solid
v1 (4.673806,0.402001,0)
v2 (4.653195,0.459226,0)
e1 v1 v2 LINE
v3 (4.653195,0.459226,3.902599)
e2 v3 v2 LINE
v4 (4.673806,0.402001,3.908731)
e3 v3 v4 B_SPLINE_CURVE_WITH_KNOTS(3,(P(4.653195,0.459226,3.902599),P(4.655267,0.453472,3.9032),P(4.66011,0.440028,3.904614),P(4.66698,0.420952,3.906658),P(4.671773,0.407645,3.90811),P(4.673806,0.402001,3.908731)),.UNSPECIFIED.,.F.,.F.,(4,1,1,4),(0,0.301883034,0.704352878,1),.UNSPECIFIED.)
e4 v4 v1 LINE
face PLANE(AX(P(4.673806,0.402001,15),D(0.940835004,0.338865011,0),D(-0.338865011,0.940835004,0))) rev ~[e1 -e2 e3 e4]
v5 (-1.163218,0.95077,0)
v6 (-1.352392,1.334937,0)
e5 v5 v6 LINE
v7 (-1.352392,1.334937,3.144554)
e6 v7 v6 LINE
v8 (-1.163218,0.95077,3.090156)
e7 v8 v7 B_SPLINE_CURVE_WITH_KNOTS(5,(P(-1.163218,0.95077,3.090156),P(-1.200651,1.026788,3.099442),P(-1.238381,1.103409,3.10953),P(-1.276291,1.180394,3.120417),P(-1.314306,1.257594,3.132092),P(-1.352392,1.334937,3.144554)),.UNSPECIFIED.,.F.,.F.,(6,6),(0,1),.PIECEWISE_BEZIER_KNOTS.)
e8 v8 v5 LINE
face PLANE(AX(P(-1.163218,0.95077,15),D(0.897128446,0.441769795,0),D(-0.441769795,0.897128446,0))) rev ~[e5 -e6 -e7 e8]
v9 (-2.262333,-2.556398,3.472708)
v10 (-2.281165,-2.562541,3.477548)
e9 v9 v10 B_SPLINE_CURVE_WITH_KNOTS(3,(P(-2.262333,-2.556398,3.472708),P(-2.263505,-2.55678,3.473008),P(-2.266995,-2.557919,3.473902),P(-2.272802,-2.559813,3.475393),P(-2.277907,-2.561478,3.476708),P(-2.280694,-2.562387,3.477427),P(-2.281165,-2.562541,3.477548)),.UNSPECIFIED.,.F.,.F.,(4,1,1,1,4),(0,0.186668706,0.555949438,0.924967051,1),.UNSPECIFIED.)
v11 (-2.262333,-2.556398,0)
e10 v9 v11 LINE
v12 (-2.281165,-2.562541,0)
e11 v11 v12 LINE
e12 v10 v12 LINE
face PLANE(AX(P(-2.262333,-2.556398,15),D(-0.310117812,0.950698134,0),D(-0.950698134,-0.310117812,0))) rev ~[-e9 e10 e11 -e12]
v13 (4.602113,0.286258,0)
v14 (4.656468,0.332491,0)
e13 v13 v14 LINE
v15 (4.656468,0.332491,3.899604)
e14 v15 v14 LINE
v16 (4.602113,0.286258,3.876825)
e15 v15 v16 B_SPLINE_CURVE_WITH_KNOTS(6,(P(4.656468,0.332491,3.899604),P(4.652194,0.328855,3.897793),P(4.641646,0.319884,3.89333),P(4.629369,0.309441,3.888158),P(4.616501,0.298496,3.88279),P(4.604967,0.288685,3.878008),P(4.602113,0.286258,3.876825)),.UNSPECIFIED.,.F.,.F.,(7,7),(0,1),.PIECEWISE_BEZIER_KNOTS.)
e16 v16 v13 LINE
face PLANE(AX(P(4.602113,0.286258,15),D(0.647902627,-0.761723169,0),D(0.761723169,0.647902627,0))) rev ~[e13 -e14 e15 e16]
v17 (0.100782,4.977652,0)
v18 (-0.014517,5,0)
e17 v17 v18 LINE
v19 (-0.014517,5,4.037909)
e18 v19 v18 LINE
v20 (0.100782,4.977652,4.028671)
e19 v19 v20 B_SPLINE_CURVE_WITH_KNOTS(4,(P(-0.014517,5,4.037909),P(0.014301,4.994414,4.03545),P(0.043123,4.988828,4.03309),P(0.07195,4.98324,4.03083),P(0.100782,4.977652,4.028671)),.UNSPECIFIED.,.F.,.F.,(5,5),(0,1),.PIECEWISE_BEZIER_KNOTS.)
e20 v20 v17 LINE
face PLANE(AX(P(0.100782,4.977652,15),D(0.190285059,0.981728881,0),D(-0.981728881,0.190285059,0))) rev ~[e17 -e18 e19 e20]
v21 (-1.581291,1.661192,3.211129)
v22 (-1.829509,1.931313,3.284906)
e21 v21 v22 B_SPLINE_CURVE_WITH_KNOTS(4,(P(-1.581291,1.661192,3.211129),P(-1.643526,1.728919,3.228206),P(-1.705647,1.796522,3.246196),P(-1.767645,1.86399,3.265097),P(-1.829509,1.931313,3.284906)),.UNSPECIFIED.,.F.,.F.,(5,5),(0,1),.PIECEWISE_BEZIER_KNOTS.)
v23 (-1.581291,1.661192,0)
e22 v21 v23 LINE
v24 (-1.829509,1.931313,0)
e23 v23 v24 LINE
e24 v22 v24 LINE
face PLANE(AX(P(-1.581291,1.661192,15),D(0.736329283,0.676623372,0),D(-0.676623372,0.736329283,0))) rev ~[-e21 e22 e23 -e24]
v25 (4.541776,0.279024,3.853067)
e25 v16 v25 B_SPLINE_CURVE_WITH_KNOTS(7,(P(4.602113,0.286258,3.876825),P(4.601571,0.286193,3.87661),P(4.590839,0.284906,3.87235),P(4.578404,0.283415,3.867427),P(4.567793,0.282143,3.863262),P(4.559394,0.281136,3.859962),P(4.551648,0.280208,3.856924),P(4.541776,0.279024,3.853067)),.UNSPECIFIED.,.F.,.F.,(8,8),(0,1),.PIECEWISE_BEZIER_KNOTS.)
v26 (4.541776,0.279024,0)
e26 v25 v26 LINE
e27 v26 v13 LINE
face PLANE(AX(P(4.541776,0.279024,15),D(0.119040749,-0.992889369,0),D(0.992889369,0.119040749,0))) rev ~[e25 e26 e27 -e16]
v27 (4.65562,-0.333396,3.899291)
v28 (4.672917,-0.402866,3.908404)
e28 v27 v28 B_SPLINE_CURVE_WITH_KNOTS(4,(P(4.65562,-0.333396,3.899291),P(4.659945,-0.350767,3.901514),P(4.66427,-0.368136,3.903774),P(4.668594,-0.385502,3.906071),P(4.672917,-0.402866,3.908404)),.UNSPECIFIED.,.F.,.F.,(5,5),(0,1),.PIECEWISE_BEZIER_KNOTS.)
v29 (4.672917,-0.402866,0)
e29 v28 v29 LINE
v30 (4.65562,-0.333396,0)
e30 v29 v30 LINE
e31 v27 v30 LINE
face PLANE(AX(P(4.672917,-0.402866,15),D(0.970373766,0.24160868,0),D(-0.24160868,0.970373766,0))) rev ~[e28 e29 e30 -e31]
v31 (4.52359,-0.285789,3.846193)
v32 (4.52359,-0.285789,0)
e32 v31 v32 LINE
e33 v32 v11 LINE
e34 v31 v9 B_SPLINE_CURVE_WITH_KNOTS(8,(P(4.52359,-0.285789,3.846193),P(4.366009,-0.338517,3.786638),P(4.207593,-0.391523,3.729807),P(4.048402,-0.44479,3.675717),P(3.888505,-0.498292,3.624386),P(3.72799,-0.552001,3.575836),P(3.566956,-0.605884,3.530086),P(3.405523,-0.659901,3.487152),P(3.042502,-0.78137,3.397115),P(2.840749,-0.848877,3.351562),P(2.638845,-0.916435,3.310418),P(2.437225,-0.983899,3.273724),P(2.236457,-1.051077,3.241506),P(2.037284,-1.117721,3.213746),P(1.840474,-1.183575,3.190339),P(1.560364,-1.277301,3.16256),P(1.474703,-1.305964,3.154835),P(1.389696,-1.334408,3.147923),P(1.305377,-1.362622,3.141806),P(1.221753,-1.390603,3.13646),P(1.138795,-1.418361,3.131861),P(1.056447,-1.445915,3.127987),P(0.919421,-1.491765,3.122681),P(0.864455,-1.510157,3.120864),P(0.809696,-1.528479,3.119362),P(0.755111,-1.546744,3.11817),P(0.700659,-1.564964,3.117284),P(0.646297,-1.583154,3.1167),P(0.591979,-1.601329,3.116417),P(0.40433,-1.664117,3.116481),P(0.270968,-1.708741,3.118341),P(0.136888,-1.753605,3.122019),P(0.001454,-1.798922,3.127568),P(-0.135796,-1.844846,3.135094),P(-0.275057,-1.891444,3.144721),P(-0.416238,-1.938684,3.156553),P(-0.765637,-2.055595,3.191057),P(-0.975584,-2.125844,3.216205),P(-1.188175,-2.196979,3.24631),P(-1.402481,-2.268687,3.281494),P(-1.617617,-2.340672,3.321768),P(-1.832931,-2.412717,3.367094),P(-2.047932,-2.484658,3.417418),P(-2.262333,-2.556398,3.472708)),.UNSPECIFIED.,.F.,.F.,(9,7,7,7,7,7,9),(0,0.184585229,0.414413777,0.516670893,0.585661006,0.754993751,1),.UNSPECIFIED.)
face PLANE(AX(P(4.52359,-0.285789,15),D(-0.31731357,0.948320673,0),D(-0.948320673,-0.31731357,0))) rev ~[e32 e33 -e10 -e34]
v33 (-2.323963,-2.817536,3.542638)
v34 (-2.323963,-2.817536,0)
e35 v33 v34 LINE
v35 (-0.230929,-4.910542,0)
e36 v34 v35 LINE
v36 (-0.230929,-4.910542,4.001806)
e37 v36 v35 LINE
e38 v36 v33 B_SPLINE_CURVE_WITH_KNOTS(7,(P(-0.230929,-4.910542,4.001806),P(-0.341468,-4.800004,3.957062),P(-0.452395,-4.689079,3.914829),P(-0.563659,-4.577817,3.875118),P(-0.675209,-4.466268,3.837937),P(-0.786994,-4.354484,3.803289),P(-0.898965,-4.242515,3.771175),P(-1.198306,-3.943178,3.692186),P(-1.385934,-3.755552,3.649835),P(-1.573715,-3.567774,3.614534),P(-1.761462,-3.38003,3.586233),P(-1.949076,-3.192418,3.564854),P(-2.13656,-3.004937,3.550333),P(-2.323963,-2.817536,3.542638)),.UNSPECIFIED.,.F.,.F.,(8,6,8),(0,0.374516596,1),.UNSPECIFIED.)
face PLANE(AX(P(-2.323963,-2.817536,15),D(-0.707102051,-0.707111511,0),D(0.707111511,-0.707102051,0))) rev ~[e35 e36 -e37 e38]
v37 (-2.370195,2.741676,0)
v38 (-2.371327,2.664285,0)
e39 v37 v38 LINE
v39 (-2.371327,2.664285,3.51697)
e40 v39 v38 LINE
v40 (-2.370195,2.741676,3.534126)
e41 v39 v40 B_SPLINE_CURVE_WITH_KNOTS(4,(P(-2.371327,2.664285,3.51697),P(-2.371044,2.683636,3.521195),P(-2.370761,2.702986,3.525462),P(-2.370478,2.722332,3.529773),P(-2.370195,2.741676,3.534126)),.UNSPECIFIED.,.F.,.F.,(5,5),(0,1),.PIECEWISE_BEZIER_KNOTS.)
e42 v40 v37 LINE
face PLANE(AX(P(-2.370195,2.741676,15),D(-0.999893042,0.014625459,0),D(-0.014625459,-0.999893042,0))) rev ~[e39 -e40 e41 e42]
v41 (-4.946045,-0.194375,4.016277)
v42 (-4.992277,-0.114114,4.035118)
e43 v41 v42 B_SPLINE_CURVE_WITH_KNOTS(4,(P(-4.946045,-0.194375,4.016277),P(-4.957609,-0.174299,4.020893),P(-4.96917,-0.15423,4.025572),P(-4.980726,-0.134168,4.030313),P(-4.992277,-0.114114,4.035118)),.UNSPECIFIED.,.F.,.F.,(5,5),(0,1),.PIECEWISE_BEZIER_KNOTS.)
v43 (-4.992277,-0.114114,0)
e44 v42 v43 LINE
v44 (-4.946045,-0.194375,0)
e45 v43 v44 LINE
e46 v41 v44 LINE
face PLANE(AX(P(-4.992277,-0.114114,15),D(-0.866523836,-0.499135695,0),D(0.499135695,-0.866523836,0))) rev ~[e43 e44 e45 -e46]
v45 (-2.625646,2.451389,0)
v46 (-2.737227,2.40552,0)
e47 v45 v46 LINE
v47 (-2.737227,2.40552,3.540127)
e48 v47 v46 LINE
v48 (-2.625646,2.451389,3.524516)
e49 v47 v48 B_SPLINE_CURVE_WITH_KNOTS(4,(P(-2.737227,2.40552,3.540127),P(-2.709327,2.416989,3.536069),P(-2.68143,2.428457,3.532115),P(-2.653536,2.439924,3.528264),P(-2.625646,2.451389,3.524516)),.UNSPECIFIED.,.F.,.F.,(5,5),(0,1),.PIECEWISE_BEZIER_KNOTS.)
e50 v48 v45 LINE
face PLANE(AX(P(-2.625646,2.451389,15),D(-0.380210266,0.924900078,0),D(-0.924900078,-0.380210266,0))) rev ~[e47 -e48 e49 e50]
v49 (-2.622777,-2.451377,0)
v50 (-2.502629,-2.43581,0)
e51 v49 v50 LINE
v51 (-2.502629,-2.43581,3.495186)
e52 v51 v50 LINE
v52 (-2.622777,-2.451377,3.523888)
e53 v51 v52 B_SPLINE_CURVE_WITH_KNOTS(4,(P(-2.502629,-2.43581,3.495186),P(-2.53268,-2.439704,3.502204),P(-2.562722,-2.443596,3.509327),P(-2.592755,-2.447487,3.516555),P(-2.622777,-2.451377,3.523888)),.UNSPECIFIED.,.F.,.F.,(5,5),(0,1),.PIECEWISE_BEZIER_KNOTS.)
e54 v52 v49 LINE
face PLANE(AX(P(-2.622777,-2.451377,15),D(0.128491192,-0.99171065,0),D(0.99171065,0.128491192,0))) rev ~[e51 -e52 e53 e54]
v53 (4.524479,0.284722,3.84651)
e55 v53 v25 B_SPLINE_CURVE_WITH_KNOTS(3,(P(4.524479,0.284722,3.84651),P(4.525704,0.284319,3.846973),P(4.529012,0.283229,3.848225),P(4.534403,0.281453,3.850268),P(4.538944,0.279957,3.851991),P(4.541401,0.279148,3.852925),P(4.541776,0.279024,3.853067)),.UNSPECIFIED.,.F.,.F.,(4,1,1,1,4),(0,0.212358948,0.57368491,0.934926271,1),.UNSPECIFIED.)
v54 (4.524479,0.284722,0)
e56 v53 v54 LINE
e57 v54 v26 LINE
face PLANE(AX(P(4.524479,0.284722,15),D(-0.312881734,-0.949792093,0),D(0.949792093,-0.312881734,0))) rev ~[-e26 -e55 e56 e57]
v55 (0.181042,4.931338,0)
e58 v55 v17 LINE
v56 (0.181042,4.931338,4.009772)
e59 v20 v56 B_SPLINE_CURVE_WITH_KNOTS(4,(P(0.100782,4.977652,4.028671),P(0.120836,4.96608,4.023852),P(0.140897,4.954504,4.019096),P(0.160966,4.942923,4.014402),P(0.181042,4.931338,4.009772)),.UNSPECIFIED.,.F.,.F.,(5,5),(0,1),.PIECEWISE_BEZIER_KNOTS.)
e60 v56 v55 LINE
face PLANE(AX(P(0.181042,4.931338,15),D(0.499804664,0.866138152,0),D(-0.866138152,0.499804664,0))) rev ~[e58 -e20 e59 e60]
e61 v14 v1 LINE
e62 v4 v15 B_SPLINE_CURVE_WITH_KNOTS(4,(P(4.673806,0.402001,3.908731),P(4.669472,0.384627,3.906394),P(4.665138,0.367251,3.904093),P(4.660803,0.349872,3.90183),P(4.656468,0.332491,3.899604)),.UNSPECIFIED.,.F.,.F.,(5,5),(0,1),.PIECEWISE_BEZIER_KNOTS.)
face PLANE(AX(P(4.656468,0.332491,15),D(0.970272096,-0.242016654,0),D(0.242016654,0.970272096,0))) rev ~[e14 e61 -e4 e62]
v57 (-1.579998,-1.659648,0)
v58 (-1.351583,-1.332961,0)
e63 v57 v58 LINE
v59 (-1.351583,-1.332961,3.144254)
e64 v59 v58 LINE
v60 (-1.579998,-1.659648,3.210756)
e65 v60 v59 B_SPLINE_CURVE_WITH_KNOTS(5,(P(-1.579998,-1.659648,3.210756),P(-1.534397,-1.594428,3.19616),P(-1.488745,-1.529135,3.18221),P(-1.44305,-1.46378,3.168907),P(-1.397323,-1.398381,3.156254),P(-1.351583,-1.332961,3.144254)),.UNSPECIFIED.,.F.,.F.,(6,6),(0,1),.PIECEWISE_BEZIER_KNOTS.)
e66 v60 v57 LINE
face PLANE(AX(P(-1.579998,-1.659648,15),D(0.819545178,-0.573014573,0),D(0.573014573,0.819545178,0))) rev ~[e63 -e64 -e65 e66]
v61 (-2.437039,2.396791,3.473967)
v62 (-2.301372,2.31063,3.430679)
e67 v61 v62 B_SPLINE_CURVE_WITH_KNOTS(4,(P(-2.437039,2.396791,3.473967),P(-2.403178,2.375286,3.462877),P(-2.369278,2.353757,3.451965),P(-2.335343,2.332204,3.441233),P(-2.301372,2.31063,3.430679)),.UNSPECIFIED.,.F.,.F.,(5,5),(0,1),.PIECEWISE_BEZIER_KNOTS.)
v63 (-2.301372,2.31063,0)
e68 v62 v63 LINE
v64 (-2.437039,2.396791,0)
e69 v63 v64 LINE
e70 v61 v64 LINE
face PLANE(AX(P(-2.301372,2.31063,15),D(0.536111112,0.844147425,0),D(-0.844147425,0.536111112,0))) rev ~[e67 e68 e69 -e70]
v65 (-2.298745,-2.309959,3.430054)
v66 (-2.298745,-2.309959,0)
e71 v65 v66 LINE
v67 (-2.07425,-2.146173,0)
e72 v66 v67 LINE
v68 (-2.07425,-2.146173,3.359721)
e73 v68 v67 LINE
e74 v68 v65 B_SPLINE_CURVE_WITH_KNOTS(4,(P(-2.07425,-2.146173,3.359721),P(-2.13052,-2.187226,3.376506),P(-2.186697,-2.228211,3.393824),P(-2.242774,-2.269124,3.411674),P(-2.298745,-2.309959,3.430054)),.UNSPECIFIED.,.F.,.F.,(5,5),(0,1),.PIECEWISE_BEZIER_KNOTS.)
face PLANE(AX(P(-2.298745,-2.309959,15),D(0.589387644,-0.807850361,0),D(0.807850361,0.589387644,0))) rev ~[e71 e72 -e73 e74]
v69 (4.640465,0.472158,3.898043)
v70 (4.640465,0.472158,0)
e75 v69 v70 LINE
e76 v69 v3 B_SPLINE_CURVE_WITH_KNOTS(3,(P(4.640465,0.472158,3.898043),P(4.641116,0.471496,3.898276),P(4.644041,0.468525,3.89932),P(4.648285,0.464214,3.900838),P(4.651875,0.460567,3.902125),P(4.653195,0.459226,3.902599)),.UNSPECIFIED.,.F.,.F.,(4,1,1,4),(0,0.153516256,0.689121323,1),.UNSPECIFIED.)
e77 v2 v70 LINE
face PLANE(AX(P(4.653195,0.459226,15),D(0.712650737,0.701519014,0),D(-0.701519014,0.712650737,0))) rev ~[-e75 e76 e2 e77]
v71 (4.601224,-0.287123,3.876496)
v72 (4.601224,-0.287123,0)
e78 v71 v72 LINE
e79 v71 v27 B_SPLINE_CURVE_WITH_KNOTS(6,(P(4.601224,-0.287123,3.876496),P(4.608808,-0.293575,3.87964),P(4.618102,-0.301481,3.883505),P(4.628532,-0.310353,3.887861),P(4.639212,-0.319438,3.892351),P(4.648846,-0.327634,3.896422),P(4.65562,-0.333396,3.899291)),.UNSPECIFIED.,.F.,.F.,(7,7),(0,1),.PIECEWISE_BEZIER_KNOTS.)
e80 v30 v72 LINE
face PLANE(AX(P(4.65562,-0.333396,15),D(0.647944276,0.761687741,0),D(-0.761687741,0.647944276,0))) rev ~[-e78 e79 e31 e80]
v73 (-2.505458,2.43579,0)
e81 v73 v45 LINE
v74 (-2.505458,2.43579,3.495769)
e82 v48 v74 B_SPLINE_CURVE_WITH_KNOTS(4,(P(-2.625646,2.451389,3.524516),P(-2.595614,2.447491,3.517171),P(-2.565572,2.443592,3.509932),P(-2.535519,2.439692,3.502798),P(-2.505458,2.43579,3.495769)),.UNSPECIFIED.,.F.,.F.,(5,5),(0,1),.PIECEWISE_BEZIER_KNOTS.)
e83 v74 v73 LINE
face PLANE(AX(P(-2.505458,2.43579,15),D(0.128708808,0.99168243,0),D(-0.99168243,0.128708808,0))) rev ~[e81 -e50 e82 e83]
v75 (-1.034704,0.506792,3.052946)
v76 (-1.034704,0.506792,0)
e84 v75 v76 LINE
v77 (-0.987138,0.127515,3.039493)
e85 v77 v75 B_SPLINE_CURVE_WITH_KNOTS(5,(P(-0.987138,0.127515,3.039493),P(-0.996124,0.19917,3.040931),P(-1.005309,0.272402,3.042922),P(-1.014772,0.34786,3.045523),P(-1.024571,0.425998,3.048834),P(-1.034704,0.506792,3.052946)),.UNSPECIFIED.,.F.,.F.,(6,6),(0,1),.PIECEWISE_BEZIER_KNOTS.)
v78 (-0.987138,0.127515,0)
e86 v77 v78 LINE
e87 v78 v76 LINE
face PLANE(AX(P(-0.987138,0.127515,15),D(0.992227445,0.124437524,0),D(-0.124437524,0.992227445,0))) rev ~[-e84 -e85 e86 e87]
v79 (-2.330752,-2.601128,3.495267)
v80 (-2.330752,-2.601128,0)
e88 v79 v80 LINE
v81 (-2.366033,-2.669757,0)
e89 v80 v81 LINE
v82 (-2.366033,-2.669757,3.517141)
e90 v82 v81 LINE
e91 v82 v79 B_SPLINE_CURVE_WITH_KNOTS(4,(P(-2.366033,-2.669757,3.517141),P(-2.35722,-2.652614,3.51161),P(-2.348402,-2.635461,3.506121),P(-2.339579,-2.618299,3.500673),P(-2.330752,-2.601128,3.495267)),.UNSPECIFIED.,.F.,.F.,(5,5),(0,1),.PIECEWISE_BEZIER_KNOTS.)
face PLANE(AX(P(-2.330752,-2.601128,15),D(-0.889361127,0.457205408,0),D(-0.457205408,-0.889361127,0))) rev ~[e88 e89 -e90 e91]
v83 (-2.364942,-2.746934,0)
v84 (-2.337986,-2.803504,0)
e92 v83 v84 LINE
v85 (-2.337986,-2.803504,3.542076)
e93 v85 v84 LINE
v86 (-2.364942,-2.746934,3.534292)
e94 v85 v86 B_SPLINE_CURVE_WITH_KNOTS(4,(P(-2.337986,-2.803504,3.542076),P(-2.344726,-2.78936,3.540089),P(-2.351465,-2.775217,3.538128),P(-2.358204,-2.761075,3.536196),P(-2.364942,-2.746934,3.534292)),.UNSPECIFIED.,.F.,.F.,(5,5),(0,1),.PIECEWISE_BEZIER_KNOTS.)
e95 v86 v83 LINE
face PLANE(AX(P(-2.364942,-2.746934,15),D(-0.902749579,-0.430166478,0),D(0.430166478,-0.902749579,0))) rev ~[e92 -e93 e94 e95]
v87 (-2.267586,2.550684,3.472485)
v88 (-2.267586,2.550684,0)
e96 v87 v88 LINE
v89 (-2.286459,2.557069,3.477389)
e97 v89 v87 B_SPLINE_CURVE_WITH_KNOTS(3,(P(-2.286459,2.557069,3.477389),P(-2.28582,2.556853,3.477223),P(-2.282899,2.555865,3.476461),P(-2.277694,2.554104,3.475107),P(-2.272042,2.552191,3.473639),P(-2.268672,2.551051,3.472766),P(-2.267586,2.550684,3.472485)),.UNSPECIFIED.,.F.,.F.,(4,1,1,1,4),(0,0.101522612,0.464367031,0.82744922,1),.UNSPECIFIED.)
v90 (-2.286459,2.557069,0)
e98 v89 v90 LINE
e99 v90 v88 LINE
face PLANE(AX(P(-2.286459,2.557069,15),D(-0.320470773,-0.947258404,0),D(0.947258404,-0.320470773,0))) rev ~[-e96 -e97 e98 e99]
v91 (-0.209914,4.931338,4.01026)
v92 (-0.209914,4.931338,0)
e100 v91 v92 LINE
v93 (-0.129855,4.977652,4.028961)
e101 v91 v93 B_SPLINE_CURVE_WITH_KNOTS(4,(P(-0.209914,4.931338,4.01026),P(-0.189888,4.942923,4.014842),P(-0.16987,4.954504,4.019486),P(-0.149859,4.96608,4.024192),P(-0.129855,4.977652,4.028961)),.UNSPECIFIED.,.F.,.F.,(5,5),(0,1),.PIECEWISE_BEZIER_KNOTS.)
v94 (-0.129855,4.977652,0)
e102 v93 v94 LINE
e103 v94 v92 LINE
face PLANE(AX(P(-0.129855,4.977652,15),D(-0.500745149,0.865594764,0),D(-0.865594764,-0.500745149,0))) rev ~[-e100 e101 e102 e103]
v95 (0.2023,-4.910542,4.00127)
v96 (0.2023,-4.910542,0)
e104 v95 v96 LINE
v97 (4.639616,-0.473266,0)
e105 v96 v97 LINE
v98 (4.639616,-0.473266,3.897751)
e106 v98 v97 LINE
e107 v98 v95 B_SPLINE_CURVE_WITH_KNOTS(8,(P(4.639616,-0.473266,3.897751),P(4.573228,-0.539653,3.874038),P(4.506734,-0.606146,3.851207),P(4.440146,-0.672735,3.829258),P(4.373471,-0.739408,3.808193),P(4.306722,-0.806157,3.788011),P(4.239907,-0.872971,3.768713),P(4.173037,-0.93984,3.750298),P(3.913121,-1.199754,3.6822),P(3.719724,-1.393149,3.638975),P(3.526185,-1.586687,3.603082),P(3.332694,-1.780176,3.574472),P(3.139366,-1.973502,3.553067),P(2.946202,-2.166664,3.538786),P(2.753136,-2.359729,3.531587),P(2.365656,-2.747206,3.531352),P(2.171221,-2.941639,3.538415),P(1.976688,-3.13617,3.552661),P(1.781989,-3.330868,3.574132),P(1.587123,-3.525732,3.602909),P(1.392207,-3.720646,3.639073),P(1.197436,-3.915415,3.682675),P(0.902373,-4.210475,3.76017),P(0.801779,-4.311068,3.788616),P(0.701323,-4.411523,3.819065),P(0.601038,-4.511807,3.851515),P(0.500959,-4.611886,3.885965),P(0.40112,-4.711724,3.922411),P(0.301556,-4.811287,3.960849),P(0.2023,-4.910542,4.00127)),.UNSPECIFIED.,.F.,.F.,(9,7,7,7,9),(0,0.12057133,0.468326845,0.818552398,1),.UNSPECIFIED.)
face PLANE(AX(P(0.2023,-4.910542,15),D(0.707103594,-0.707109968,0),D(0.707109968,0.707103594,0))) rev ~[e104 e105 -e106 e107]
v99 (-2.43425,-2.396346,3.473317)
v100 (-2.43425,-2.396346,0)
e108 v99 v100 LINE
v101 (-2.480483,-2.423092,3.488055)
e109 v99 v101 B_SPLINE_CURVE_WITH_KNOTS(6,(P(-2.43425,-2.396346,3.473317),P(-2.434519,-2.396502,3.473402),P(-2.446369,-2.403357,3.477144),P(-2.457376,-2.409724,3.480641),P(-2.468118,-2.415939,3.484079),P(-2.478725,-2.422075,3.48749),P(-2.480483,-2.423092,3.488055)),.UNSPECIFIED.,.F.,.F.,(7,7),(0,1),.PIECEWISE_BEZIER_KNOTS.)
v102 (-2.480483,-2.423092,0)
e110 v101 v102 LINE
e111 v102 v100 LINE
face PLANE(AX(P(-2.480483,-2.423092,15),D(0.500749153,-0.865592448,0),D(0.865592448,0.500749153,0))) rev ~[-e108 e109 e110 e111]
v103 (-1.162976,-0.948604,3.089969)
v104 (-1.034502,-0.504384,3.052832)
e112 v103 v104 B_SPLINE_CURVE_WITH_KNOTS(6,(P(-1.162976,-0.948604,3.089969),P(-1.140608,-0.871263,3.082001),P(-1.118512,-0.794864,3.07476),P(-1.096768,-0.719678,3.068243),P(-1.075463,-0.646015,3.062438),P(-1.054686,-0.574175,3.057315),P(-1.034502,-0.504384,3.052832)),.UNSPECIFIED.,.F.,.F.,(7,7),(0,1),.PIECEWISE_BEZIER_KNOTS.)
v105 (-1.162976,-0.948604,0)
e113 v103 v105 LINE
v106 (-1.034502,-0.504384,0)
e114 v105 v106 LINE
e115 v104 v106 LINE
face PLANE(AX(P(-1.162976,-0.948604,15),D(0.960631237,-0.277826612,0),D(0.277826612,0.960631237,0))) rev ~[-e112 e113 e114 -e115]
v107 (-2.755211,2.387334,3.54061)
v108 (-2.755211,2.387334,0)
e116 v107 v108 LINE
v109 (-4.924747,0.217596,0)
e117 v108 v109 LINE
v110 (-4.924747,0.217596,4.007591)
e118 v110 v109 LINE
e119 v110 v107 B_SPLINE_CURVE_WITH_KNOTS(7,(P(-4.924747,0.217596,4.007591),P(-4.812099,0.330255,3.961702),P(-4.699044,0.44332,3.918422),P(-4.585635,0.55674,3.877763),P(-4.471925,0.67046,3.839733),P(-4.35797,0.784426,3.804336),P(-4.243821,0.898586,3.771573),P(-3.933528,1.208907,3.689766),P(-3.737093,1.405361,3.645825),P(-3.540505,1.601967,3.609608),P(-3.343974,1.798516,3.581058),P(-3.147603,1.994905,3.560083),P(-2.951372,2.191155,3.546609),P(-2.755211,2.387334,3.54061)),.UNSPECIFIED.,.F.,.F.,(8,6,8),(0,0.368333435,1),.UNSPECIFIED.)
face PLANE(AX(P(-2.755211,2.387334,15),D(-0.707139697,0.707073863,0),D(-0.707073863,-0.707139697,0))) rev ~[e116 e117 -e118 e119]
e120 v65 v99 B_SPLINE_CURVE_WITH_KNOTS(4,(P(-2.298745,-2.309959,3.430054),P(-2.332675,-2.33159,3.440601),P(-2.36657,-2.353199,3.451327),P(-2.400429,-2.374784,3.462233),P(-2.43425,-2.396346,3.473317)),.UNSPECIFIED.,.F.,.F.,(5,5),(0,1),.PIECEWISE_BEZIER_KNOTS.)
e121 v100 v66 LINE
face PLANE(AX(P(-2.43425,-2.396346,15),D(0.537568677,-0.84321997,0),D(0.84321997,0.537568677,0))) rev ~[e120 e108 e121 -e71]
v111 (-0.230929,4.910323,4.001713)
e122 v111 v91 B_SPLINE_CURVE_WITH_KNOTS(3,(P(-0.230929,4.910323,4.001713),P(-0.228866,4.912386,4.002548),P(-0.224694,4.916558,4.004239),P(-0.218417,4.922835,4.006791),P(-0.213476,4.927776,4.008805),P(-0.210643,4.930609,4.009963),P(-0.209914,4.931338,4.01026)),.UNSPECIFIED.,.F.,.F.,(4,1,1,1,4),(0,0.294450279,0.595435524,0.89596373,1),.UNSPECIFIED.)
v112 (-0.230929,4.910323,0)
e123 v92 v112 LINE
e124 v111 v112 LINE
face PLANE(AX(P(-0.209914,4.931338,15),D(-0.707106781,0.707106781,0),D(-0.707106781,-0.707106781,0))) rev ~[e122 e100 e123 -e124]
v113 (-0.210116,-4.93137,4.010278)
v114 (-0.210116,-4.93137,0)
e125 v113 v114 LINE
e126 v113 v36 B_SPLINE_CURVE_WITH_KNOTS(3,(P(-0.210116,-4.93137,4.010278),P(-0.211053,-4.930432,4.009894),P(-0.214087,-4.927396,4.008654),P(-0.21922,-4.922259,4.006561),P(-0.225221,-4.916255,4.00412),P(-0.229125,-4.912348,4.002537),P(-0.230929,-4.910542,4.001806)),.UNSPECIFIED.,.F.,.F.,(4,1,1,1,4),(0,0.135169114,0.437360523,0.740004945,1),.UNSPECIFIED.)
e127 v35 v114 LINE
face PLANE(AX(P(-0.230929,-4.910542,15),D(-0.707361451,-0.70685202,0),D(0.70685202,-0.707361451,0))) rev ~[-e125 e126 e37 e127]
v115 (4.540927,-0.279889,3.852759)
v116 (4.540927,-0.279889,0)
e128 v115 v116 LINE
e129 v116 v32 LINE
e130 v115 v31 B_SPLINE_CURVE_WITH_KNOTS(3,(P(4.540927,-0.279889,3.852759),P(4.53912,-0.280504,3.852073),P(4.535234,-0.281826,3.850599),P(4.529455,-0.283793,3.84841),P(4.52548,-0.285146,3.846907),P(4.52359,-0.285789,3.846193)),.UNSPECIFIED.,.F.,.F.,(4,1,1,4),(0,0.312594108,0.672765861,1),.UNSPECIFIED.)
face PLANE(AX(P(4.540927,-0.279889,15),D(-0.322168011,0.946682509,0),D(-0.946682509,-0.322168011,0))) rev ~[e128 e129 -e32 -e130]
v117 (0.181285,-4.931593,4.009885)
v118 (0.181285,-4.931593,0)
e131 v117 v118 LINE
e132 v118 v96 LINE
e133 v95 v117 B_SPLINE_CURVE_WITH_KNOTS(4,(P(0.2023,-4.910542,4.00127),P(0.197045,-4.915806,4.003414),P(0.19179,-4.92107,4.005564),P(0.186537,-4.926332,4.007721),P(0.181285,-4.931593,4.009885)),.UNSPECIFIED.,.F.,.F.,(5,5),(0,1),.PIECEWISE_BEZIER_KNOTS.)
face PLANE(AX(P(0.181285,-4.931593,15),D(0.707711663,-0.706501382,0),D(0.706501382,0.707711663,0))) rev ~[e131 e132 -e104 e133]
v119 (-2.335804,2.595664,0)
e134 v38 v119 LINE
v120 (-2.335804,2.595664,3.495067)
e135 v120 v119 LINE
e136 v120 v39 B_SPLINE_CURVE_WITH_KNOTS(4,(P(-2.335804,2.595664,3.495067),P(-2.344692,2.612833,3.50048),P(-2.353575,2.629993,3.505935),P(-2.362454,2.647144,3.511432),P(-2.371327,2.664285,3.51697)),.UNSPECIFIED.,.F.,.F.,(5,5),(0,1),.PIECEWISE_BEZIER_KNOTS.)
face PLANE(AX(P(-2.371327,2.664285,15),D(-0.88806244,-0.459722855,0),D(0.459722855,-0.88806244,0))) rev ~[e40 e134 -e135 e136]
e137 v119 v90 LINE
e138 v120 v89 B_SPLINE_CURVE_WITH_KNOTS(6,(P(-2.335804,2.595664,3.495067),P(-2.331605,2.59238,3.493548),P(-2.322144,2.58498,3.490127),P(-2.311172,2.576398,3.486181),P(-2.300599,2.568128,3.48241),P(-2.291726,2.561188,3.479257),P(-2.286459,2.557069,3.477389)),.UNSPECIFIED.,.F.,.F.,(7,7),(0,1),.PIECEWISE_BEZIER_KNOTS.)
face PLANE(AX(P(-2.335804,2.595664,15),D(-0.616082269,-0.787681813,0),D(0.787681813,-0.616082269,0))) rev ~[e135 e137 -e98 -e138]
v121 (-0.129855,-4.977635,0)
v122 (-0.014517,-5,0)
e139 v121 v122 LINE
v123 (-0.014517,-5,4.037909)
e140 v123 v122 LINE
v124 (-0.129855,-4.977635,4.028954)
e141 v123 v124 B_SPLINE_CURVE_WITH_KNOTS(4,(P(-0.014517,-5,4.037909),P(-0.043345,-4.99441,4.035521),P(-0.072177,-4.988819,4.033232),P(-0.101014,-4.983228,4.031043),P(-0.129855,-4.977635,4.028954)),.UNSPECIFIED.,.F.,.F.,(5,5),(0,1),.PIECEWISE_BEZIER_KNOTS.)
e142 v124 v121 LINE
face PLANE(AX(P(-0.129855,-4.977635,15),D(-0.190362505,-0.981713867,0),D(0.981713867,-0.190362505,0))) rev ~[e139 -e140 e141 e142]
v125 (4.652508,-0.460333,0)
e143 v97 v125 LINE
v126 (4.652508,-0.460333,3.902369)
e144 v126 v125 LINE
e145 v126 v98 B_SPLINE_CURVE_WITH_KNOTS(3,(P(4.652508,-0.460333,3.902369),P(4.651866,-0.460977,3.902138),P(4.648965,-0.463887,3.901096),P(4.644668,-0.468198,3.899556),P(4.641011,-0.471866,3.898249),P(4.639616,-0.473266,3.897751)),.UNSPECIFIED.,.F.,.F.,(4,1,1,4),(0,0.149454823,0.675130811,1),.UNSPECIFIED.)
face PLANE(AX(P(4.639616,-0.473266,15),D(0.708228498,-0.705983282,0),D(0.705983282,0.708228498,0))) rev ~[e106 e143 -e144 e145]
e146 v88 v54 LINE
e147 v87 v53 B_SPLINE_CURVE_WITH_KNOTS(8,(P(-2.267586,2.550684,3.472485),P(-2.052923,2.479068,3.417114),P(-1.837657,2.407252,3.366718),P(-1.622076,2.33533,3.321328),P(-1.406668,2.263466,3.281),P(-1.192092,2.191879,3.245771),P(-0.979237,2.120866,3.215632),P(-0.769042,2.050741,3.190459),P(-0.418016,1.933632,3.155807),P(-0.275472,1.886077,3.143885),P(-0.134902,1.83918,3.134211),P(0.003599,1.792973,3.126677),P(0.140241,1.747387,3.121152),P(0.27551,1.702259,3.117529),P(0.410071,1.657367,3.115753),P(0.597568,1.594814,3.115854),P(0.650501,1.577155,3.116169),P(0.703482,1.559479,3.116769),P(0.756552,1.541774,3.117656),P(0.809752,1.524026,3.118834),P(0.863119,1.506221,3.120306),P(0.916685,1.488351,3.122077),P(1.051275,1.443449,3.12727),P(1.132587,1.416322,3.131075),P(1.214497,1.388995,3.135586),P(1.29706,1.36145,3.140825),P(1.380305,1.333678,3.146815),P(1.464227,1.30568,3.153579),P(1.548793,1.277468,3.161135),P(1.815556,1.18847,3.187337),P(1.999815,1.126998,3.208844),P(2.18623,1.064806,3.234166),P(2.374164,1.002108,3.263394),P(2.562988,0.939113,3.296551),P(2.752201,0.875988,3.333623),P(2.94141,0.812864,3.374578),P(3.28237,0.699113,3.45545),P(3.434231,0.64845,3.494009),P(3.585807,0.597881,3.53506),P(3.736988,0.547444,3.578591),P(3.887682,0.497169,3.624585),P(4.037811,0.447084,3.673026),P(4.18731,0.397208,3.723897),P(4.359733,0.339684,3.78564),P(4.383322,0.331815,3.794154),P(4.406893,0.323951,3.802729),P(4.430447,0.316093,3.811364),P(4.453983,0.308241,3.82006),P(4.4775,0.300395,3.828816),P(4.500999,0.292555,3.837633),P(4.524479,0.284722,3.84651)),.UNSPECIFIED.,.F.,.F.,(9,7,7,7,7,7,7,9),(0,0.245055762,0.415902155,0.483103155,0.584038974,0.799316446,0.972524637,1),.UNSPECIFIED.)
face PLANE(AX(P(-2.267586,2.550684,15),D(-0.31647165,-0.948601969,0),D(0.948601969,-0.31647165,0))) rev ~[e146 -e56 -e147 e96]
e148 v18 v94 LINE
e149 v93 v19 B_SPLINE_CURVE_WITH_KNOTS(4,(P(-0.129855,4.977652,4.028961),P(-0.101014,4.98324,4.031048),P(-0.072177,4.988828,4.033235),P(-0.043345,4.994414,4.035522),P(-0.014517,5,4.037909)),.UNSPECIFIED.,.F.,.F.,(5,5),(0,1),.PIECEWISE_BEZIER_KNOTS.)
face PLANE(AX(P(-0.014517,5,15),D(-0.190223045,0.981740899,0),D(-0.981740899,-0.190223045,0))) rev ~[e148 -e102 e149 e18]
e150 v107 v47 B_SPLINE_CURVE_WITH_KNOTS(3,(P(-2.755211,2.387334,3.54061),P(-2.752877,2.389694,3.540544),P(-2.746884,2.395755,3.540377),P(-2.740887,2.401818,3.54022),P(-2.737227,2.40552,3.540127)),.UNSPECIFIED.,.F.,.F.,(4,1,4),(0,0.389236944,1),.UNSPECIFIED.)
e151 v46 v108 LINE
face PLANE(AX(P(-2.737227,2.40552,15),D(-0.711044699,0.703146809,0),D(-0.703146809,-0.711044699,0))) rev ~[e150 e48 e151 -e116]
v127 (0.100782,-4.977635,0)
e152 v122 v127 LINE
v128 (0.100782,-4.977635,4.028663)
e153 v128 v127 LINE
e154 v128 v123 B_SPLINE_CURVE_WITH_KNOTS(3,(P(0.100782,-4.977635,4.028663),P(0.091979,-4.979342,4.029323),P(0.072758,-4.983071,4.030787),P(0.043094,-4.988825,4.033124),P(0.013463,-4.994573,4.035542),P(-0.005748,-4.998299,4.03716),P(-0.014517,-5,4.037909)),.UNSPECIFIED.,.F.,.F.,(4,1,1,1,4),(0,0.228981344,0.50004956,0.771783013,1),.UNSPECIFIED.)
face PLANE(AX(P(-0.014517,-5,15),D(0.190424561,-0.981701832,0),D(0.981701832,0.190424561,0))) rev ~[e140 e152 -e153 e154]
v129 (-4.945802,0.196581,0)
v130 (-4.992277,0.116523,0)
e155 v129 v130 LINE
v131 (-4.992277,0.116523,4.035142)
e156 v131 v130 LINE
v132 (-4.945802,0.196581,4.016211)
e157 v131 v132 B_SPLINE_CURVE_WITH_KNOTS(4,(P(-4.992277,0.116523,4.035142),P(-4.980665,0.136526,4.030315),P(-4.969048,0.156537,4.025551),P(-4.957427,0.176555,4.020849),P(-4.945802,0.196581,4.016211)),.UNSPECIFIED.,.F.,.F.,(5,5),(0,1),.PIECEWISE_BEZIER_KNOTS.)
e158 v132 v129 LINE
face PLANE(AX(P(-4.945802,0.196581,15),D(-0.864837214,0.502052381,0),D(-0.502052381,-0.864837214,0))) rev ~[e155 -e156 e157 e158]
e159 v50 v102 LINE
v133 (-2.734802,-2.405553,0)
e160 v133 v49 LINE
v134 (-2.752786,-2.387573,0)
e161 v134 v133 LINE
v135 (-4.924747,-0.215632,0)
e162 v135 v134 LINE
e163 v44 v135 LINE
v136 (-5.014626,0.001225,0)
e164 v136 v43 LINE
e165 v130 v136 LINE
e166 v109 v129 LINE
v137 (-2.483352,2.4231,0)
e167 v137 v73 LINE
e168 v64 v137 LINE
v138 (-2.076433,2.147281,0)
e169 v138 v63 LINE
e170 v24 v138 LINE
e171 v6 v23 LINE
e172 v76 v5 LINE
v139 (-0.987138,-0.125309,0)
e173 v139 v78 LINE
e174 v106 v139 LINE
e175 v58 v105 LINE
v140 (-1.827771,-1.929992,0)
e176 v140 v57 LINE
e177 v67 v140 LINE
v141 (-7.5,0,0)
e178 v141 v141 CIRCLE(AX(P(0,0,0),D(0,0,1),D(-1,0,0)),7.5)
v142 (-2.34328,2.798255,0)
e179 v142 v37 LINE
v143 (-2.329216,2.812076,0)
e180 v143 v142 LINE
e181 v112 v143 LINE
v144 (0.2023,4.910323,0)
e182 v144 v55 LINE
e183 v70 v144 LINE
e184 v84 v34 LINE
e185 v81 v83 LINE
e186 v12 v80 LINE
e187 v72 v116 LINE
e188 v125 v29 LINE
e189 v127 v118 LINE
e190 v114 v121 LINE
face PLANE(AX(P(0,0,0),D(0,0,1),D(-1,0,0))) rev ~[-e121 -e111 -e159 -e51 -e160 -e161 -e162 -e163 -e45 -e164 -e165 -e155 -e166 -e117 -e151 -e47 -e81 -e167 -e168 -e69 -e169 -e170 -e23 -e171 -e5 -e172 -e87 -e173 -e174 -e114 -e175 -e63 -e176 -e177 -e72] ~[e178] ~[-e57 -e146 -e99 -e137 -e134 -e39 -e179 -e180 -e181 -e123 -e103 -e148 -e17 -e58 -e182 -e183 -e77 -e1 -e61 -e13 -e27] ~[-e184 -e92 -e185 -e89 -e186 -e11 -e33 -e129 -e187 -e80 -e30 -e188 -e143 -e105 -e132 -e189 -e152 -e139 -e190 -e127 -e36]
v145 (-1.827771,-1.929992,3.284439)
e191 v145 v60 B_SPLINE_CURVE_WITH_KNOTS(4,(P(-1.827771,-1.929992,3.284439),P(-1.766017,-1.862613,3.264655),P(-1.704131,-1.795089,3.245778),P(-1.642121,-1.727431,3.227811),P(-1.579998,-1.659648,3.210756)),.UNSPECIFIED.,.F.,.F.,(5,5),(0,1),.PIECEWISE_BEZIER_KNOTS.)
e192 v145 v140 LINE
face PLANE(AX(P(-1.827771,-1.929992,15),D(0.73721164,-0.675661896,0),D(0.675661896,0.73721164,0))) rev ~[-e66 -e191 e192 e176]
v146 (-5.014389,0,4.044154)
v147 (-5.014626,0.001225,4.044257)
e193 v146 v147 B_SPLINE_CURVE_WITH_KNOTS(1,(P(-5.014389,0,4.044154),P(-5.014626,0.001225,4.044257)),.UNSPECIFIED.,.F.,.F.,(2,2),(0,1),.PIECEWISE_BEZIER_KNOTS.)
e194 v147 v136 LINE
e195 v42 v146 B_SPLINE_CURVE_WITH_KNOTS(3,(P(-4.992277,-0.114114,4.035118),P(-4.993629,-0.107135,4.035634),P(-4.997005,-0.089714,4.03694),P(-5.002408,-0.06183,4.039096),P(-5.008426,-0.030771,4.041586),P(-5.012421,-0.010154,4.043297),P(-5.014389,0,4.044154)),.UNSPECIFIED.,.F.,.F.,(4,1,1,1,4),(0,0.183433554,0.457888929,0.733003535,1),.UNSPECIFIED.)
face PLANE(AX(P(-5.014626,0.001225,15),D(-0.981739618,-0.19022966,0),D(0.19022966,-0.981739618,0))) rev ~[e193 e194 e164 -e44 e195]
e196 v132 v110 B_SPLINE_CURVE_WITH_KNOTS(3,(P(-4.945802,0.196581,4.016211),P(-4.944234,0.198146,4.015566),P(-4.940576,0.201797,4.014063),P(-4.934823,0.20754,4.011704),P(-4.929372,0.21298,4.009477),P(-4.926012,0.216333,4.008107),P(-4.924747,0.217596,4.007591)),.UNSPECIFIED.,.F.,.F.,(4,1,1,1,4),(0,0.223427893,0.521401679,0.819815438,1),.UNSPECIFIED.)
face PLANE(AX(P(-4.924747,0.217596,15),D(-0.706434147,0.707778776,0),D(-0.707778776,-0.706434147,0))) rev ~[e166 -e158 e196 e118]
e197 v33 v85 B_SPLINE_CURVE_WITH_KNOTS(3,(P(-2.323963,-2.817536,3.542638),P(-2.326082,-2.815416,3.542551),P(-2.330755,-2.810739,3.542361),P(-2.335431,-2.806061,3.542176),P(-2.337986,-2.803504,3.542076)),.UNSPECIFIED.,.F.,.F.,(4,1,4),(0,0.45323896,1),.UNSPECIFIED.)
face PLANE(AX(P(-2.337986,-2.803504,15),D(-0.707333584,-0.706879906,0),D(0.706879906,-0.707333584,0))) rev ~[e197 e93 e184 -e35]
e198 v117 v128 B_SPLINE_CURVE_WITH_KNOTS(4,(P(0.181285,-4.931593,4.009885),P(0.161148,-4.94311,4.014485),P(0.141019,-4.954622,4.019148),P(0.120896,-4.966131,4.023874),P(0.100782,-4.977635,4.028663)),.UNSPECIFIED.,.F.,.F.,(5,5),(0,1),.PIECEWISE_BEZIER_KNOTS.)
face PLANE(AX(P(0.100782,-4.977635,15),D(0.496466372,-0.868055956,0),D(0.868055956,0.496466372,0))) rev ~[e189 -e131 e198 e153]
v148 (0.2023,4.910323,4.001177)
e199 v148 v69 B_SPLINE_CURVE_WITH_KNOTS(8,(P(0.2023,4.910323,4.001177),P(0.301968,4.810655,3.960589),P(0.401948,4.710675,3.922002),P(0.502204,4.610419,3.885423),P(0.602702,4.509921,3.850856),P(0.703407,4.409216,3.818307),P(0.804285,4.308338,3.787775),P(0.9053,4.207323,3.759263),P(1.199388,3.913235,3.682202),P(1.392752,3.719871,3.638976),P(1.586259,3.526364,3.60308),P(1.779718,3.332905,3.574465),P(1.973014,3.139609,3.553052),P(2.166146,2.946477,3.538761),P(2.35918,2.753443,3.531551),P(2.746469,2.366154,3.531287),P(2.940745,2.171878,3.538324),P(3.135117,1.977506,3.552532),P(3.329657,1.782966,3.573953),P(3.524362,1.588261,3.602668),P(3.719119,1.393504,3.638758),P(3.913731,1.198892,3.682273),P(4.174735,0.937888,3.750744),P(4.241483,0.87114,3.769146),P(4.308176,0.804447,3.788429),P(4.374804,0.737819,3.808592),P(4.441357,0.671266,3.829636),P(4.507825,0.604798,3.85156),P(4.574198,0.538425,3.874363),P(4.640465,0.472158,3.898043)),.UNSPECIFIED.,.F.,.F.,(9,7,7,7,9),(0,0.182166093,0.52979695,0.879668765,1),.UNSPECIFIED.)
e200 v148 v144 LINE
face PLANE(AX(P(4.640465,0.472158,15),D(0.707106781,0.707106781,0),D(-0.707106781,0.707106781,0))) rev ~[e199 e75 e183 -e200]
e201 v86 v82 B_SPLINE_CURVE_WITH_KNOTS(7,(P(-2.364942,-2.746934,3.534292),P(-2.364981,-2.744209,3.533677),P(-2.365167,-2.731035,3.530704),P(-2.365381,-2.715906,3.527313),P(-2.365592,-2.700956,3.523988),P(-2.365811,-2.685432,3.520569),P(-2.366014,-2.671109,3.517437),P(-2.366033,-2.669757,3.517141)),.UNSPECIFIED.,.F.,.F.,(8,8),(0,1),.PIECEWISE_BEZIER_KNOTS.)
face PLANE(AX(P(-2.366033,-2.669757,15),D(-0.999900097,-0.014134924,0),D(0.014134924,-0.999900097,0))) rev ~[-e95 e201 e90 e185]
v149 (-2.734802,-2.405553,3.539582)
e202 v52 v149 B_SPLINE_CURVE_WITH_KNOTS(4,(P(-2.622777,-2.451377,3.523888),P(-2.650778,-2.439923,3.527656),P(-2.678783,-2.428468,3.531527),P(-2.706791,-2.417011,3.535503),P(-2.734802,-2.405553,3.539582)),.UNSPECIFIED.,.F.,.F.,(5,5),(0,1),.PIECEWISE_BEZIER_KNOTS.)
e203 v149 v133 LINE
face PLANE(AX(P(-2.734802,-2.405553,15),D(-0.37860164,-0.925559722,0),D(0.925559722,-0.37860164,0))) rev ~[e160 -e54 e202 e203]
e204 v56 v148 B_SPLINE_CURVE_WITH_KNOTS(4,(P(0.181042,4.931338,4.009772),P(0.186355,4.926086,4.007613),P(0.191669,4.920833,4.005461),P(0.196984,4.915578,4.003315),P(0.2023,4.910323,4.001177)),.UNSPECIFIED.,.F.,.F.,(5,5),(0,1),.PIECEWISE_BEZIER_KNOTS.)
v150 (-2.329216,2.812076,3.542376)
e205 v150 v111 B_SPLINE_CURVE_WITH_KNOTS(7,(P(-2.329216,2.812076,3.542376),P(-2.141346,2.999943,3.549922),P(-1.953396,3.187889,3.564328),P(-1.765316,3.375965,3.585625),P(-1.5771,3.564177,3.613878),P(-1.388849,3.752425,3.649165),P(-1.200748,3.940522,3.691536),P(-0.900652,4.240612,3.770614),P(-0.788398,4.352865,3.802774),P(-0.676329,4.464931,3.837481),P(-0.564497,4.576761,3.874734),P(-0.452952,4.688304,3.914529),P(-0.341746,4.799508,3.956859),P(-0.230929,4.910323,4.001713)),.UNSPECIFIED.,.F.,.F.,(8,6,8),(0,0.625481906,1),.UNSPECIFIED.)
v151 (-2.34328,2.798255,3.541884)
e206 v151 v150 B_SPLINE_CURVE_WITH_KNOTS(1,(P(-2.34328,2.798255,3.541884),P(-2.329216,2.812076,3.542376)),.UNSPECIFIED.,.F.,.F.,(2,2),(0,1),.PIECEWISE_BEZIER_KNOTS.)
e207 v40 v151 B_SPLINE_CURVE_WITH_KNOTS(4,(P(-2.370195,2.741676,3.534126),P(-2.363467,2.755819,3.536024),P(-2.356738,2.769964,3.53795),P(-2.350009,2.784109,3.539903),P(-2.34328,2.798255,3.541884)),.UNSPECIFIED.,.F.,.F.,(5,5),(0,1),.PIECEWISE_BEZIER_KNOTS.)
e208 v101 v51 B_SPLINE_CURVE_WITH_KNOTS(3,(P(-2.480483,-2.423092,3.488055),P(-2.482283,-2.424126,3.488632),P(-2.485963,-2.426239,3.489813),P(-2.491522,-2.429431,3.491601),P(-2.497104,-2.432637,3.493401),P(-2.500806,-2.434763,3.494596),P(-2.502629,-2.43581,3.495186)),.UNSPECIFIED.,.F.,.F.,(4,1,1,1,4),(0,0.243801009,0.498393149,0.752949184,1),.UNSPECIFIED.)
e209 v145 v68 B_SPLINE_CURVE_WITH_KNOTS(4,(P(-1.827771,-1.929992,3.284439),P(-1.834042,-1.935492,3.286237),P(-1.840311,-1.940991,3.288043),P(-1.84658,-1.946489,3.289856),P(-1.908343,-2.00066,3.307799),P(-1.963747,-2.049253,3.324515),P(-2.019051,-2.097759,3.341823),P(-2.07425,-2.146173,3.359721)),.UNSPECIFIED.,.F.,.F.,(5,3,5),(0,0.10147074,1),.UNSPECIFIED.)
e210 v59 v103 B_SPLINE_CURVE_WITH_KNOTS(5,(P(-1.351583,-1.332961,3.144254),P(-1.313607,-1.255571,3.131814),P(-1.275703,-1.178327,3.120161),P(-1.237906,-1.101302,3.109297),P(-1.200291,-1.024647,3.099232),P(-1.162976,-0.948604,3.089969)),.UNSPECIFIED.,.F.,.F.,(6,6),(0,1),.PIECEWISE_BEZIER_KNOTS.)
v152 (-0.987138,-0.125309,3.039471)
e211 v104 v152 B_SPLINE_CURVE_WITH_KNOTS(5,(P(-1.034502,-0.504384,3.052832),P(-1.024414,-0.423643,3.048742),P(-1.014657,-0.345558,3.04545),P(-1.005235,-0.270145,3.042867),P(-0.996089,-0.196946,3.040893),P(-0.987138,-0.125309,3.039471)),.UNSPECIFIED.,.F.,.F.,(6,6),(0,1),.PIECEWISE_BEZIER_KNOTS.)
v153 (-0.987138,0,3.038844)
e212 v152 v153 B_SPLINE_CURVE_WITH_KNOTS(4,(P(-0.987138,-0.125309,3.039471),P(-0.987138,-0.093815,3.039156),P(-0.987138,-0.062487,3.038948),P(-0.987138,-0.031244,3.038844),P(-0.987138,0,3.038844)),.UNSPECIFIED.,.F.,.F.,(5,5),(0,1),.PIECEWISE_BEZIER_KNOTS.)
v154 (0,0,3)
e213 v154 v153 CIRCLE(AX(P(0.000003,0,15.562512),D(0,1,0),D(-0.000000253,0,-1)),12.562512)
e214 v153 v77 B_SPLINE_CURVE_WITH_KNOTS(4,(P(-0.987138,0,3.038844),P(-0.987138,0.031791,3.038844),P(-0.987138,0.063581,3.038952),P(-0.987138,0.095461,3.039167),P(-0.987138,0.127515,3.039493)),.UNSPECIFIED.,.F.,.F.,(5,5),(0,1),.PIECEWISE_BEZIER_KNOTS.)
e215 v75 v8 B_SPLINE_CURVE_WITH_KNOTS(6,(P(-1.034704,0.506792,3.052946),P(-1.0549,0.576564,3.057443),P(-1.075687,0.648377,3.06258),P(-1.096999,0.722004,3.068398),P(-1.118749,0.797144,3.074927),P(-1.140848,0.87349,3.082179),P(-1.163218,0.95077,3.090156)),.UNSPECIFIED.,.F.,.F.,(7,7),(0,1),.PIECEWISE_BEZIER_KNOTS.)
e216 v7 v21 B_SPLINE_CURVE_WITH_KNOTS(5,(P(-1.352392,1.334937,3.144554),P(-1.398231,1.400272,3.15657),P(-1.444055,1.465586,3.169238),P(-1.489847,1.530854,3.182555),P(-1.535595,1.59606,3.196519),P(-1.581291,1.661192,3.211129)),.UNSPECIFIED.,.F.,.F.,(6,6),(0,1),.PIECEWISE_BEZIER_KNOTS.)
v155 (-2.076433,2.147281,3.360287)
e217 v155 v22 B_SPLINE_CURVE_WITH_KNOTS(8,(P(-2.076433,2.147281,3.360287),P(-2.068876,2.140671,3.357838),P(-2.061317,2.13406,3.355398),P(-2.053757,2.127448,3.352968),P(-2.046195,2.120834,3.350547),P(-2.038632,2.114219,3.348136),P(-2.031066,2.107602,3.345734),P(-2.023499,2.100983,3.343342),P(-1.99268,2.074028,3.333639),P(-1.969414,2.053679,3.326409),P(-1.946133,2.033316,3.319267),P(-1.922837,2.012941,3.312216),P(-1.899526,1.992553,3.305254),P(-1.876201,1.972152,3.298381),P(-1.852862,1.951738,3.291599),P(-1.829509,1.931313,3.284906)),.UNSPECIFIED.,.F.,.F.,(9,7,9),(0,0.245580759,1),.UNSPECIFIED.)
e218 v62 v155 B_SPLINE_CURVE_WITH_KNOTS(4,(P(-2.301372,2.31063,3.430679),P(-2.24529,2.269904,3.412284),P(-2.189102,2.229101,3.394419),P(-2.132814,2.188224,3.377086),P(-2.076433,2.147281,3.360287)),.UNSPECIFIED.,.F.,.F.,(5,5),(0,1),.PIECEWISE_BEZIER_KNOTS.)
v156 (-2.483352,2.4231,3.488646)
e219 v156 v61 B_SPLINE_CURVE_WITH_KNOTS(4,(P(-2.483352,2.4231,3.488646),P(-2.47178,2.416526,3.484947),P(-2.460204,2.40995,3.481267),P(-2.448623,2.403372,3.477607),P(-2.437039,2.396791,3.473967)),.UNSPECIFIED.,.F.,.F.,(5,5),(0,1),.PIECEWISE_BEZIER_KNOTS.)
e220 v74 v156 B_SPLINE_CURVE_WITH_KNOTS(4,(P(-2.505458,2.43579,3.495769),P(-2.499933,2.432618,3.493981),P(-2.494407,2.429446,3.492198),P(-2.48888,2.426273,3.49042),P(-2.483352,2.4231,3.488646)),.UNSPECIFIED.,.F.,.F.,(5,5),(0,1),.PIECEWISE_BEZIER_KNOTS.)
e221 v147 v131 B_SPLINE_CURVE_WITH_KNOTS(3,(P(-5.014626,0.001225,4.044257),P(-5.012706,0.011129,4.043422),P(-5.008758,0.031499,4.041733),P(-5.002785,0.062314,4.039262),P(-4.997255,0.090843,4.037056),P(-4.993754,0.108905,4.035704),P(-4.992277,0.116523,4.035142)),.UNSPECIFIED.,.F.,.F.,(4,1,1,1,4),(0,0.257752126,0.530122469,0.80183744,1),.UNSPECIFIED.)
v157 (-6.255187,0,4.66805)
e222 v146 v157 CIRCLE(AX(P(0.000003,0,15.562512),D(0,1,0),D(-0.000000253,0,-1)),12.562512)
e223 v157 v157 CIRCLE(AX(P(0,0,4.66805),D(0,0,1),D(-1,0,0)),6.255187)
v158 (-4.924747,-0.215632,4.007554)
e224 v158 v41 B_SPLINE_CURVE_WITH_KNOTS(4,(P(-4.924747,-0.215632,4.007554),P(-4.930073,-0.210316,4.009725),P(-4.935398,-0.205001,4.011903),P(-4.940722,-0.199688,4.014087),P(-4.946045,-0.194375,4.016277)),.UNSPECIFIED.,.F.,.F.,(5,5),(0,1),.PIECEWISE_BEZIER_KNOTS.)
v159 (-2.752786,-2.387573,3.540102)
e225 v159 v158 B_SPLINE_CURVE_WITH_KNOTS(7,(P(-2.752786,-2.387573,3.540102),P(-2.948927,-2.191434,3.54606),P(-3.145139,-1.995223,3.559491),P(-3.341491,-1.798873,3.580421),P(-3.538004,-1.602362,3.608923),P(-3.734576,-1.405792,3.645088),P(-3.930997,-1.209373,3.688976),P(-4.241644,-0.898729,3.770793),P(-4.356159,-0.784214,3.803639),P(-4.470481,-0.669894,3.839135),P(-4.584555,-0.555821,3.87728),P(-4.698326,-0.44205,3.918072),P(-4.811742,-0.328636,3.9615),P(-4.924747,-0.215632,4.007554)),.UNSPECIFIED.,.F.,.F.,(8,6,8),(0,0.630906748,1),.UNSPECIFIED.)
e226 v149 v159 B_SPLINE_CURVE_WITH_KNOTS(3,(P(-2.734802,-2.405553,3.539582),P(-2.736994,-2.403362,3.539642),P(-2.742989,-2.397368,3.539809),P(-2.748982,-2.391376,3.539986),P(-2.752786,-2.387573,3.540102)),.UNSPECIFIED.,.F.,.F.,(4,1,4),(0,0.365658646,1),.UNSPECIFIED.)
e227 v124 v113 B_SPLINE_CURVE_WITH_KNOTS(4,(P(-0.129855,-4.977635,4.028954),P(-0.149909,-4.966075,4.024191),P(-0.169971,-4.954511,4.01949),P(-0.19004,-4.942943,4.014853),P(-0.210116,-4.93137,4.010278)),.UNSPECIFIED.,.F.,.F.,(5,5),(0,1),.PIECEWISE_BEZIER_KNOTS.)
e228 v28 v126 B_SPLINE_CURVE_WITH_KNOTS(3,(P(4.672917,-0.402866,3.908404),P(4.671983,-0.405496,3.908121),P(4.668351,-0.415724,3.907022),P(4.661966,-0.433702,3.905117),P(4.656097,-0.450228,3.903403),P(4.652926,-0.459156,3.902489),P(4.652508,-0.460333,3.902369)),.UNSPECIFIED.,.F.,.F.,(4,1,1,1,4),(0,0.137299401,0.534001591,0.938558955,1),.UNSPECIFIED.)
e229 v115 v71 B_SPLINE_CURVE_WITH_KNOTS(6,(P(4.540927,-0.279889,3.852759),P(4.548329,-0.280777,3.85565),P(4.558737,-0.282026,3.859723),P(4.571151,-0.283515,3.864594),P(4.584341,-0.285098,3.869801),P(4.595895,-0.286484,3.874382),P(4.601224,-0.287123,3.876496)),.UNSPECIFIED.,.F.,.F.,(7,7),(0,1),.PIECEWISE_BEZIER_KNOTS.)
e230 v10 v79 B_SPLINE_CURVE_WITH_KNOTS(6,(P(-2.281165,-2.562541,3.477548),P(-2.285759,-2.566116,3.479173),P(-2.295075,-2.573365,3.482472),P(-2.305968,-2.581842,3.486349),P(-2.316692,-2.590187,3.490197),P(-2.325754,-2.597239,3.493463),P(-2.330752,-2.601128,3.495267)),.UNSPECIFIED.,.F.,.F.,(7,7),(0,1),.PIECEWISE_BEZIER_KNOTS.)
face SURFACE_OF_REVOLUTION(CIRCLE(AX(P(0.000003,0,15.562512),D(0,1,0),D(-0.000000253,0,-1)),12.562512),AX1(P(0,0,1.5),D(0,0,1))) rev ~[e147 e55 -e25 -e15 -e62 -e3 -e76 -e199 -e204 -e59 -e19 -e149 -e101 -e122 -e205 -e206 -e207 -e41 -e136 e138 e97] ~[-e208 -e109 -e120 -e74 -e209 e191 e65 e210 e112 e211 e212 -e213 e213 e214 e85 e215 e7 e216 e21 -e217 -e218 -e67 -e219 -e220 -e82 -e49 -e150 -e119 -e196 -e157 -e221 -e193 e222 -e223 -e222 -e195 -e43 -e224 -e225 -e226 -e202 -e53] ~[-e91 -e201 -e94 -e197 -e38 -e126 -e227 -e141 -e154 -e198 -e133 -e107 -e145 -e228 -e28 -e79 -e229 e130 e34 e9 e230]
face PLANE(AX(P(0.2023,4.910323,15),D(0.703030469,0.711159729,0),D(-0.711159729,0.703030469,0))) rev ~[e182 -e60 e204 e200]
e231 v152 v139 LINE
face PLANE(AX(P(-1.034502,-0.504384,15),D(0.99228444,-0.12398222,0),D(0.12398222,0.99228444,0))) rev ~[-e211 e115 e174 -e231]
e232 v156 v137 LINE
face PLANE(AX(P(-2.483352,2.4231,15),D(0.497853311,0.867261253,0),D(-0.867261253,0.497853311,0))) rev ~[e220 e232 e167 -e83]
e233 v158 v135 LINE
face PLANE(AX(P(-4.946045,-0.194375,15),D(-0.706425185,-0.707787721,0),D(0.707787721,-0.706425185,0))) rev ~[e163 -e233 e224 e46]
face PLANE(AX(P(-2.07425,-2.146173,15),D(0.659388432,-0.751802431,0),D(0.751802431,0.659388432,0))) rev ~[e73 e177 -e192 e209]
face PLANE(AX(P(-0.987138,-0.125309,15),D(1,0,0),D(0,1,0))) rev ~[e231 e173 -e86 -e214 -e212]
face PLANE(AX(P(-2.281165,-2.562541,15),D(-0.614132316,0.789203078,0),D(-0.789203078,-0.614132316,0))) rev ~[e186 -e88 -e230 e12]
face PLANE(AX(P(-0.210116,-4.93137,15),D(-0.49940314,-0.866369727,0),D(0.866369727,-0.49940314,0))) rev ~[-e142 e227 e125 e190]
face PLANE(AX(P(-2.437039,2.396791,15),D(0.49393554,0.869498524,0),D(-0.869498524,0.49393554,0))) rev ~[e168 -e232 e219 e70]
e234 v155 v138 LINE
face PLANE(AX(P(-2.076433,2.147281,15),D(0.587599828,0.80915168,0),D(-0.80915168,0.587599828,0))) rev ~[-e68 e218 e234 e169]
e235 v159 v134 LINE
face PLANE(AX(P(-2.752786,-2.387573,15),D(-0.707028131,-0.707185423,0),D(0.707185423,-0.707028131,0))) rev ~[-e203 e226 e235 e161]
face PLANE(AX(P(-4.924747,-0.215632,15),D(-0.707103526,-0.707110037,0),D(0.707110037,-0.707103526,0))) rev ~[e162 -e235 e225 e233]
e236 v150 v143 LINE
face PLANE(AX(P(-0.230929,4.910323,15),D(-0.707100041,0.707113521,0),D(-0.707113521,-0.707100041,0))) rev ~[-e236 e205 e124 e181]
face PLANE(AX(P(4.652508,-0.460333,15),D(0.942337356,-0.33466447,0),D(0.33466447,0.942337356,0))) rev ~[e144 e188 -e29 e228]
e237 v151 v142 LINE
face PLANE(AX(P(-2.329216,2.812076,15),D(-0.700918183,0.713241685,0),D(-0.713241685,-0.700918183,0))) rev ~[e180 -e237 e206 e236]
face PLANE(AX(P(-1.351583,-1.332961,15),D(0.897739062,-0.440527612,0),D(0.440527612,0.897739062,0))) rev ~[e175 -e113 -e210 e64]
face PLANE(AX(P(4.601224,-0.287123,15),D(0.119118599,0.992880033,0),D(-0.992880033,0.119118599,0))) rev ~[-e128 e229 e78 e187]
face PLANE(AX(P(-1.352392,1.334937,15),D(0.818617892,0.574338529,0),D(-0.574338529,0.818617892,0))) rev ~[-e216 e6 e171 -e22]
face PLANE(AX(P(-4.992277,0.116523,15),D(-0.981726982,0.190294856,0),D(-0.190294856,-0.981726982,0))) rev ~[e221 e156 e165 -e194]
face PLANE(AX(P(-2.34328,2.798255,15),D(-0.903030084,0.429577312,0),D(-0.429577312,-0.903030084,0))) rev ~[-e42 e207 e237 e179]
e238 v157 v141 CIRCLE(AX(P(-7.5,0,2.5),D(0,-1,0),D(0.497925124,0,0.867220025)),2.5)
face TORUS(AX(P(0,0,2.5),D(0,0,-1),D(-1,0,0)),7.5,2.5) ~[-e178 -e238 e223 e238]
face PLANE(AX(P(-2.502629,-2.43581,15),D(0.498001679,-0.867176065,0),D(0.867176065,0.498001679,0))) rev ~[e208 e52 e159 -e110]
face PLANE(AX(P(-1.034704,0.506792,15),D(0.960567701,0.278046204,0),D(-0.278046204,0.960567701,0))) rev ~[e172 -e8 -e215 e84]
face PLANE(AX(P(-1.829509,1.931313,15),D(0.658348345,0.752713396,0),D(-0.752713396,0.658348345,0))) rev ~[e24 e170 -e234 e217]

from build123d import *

# Parameters (mm, degrees)
F4_DEPTH = 20


with BuildPart() as f1:
    # F0 (on Front) → F1 (revolve)
    with BuildSketch(Plane.XZ):
        with BuildLine():
            ThreePointArc((-7.5, 0), (-5.732233, 0.732233), (-5, 2.5))
            ThreePointArc((-5, 2.5), (-5.336434, 3.752591), (-6.255187, 4.66805))
            ThreePointArc((-6.255187, 4.66805), (-9.915587, 3.144157), (-7.5, 0))
        make_face()
        with BuildLine():
            ThreePointArc((-6.255187, 4.66805), (-5.336434, 3.752591), (-5, 2.5))
            ThreePointArc((-5, 2.5), (-5.732233, 0.732233), (-7.5, 0))
            Line((-7.5, 0), (0, 0))
            Line((0, 0), (0, 3))
            ThreePointArc((0, 3), (-3.236887, 3.424174), (-6.255187, 4.66805))
        make_face()
    revolve(axis=Axis((0, 0, 1.5), (0, 0, 1)))

    # F3 (on offset) → F4 (cut)
    with BuildSketch(Plane.XY.offset(15)):
        Polygon((4.653195, 0.459226), (4.640465, 0.472158), (0.2023, 4.910323), (0.181042, 4.931338), (0.100782, 4.977652), (-0.014517, 5), (-0.129855, 4.977652), (-0.209914, 4.931338), (-0.230929, 4.910323), (-2.329216, 2.812076), (-2.34328, 2.798255), (-2.370195, 2.741676), (-2.371327, 2.664285), (-2.335804, 2.595664), (-2.286459, 2.557069), (-2.267586, 2.550684), (4.524479, 0.284722), (4.541776, 0.279024), (4.602113, 0.286258), (4.656468, 0.332491), (4.673806, 0.402001), align=None)
        Polygon((-2.337986, -2.803504), (-2.323963, -2.817536), (-0.230929, -4.910542), (-0.210116, -4.93137), (-0.129855, -4.977635), (-0.014517, -5), (0.100782, -4.977635), (0.181285, -4.931593), (0.2023, -4.910542), (4.639616, -0.473266), (4.652508, -0.460333), (4.672917, -0.402866), (4.65562, -0.333396), (4.601224, -0.287123), (4.540927, -0.279889), (4.52359, -0.285789), (-2.262333, -2.556398), (-2.281165, -2.562541), (-2.330752, -2.601128), (-2.366033, -2.669757), (-2.364942, -2.746934), align=None)
        Polygon((-0.987138, -0.125309), (-0.987138, 0.000982), (-0.987138, 0.127515), (-1.034704, 0.506792), (-1.163218, 0.95077), (-1.352392, 1.334937), (-1.581291, 1.661192), (-1.829509, 1.931313), (-2.076433, 2.147281), (-2.301372, 2.31063), (-2.437039, 2.396791), (-2.483352, 2.4231), (-2.505458, 2.43579), (-2.625646, 2.451389), (-2.737227, 2.40552), (-2.755211, 2.387334), (-4.924747, 0.217596), (-4.945802, 0.196581), (-4.992277, 0.116523), (-5.014626, 0.001225), (-4.992277, -0.114114), (-4.946045, -0.194375), (-4.924747, -0.215632), (-2.752786, -2.387573), (-2.734802, -2.405553), (-2.622777, -2.451377), (-2.502629, -2.43581), (-2.480483, -2.423092), (-2.43425, -2.396346), (-2.298745, -2.309959), (-2.07425, -2.146173), (-1.827771, -1.929992), (-1.579998, -1.659648), (-1.351583, -1.332961), (-1.162976, -0.948604), (-1.034502, -0.504384), align=None)
    extrude(amount=-F4_DEPTH, mode=Mode.SUBTRACT)


solid = f1.part
